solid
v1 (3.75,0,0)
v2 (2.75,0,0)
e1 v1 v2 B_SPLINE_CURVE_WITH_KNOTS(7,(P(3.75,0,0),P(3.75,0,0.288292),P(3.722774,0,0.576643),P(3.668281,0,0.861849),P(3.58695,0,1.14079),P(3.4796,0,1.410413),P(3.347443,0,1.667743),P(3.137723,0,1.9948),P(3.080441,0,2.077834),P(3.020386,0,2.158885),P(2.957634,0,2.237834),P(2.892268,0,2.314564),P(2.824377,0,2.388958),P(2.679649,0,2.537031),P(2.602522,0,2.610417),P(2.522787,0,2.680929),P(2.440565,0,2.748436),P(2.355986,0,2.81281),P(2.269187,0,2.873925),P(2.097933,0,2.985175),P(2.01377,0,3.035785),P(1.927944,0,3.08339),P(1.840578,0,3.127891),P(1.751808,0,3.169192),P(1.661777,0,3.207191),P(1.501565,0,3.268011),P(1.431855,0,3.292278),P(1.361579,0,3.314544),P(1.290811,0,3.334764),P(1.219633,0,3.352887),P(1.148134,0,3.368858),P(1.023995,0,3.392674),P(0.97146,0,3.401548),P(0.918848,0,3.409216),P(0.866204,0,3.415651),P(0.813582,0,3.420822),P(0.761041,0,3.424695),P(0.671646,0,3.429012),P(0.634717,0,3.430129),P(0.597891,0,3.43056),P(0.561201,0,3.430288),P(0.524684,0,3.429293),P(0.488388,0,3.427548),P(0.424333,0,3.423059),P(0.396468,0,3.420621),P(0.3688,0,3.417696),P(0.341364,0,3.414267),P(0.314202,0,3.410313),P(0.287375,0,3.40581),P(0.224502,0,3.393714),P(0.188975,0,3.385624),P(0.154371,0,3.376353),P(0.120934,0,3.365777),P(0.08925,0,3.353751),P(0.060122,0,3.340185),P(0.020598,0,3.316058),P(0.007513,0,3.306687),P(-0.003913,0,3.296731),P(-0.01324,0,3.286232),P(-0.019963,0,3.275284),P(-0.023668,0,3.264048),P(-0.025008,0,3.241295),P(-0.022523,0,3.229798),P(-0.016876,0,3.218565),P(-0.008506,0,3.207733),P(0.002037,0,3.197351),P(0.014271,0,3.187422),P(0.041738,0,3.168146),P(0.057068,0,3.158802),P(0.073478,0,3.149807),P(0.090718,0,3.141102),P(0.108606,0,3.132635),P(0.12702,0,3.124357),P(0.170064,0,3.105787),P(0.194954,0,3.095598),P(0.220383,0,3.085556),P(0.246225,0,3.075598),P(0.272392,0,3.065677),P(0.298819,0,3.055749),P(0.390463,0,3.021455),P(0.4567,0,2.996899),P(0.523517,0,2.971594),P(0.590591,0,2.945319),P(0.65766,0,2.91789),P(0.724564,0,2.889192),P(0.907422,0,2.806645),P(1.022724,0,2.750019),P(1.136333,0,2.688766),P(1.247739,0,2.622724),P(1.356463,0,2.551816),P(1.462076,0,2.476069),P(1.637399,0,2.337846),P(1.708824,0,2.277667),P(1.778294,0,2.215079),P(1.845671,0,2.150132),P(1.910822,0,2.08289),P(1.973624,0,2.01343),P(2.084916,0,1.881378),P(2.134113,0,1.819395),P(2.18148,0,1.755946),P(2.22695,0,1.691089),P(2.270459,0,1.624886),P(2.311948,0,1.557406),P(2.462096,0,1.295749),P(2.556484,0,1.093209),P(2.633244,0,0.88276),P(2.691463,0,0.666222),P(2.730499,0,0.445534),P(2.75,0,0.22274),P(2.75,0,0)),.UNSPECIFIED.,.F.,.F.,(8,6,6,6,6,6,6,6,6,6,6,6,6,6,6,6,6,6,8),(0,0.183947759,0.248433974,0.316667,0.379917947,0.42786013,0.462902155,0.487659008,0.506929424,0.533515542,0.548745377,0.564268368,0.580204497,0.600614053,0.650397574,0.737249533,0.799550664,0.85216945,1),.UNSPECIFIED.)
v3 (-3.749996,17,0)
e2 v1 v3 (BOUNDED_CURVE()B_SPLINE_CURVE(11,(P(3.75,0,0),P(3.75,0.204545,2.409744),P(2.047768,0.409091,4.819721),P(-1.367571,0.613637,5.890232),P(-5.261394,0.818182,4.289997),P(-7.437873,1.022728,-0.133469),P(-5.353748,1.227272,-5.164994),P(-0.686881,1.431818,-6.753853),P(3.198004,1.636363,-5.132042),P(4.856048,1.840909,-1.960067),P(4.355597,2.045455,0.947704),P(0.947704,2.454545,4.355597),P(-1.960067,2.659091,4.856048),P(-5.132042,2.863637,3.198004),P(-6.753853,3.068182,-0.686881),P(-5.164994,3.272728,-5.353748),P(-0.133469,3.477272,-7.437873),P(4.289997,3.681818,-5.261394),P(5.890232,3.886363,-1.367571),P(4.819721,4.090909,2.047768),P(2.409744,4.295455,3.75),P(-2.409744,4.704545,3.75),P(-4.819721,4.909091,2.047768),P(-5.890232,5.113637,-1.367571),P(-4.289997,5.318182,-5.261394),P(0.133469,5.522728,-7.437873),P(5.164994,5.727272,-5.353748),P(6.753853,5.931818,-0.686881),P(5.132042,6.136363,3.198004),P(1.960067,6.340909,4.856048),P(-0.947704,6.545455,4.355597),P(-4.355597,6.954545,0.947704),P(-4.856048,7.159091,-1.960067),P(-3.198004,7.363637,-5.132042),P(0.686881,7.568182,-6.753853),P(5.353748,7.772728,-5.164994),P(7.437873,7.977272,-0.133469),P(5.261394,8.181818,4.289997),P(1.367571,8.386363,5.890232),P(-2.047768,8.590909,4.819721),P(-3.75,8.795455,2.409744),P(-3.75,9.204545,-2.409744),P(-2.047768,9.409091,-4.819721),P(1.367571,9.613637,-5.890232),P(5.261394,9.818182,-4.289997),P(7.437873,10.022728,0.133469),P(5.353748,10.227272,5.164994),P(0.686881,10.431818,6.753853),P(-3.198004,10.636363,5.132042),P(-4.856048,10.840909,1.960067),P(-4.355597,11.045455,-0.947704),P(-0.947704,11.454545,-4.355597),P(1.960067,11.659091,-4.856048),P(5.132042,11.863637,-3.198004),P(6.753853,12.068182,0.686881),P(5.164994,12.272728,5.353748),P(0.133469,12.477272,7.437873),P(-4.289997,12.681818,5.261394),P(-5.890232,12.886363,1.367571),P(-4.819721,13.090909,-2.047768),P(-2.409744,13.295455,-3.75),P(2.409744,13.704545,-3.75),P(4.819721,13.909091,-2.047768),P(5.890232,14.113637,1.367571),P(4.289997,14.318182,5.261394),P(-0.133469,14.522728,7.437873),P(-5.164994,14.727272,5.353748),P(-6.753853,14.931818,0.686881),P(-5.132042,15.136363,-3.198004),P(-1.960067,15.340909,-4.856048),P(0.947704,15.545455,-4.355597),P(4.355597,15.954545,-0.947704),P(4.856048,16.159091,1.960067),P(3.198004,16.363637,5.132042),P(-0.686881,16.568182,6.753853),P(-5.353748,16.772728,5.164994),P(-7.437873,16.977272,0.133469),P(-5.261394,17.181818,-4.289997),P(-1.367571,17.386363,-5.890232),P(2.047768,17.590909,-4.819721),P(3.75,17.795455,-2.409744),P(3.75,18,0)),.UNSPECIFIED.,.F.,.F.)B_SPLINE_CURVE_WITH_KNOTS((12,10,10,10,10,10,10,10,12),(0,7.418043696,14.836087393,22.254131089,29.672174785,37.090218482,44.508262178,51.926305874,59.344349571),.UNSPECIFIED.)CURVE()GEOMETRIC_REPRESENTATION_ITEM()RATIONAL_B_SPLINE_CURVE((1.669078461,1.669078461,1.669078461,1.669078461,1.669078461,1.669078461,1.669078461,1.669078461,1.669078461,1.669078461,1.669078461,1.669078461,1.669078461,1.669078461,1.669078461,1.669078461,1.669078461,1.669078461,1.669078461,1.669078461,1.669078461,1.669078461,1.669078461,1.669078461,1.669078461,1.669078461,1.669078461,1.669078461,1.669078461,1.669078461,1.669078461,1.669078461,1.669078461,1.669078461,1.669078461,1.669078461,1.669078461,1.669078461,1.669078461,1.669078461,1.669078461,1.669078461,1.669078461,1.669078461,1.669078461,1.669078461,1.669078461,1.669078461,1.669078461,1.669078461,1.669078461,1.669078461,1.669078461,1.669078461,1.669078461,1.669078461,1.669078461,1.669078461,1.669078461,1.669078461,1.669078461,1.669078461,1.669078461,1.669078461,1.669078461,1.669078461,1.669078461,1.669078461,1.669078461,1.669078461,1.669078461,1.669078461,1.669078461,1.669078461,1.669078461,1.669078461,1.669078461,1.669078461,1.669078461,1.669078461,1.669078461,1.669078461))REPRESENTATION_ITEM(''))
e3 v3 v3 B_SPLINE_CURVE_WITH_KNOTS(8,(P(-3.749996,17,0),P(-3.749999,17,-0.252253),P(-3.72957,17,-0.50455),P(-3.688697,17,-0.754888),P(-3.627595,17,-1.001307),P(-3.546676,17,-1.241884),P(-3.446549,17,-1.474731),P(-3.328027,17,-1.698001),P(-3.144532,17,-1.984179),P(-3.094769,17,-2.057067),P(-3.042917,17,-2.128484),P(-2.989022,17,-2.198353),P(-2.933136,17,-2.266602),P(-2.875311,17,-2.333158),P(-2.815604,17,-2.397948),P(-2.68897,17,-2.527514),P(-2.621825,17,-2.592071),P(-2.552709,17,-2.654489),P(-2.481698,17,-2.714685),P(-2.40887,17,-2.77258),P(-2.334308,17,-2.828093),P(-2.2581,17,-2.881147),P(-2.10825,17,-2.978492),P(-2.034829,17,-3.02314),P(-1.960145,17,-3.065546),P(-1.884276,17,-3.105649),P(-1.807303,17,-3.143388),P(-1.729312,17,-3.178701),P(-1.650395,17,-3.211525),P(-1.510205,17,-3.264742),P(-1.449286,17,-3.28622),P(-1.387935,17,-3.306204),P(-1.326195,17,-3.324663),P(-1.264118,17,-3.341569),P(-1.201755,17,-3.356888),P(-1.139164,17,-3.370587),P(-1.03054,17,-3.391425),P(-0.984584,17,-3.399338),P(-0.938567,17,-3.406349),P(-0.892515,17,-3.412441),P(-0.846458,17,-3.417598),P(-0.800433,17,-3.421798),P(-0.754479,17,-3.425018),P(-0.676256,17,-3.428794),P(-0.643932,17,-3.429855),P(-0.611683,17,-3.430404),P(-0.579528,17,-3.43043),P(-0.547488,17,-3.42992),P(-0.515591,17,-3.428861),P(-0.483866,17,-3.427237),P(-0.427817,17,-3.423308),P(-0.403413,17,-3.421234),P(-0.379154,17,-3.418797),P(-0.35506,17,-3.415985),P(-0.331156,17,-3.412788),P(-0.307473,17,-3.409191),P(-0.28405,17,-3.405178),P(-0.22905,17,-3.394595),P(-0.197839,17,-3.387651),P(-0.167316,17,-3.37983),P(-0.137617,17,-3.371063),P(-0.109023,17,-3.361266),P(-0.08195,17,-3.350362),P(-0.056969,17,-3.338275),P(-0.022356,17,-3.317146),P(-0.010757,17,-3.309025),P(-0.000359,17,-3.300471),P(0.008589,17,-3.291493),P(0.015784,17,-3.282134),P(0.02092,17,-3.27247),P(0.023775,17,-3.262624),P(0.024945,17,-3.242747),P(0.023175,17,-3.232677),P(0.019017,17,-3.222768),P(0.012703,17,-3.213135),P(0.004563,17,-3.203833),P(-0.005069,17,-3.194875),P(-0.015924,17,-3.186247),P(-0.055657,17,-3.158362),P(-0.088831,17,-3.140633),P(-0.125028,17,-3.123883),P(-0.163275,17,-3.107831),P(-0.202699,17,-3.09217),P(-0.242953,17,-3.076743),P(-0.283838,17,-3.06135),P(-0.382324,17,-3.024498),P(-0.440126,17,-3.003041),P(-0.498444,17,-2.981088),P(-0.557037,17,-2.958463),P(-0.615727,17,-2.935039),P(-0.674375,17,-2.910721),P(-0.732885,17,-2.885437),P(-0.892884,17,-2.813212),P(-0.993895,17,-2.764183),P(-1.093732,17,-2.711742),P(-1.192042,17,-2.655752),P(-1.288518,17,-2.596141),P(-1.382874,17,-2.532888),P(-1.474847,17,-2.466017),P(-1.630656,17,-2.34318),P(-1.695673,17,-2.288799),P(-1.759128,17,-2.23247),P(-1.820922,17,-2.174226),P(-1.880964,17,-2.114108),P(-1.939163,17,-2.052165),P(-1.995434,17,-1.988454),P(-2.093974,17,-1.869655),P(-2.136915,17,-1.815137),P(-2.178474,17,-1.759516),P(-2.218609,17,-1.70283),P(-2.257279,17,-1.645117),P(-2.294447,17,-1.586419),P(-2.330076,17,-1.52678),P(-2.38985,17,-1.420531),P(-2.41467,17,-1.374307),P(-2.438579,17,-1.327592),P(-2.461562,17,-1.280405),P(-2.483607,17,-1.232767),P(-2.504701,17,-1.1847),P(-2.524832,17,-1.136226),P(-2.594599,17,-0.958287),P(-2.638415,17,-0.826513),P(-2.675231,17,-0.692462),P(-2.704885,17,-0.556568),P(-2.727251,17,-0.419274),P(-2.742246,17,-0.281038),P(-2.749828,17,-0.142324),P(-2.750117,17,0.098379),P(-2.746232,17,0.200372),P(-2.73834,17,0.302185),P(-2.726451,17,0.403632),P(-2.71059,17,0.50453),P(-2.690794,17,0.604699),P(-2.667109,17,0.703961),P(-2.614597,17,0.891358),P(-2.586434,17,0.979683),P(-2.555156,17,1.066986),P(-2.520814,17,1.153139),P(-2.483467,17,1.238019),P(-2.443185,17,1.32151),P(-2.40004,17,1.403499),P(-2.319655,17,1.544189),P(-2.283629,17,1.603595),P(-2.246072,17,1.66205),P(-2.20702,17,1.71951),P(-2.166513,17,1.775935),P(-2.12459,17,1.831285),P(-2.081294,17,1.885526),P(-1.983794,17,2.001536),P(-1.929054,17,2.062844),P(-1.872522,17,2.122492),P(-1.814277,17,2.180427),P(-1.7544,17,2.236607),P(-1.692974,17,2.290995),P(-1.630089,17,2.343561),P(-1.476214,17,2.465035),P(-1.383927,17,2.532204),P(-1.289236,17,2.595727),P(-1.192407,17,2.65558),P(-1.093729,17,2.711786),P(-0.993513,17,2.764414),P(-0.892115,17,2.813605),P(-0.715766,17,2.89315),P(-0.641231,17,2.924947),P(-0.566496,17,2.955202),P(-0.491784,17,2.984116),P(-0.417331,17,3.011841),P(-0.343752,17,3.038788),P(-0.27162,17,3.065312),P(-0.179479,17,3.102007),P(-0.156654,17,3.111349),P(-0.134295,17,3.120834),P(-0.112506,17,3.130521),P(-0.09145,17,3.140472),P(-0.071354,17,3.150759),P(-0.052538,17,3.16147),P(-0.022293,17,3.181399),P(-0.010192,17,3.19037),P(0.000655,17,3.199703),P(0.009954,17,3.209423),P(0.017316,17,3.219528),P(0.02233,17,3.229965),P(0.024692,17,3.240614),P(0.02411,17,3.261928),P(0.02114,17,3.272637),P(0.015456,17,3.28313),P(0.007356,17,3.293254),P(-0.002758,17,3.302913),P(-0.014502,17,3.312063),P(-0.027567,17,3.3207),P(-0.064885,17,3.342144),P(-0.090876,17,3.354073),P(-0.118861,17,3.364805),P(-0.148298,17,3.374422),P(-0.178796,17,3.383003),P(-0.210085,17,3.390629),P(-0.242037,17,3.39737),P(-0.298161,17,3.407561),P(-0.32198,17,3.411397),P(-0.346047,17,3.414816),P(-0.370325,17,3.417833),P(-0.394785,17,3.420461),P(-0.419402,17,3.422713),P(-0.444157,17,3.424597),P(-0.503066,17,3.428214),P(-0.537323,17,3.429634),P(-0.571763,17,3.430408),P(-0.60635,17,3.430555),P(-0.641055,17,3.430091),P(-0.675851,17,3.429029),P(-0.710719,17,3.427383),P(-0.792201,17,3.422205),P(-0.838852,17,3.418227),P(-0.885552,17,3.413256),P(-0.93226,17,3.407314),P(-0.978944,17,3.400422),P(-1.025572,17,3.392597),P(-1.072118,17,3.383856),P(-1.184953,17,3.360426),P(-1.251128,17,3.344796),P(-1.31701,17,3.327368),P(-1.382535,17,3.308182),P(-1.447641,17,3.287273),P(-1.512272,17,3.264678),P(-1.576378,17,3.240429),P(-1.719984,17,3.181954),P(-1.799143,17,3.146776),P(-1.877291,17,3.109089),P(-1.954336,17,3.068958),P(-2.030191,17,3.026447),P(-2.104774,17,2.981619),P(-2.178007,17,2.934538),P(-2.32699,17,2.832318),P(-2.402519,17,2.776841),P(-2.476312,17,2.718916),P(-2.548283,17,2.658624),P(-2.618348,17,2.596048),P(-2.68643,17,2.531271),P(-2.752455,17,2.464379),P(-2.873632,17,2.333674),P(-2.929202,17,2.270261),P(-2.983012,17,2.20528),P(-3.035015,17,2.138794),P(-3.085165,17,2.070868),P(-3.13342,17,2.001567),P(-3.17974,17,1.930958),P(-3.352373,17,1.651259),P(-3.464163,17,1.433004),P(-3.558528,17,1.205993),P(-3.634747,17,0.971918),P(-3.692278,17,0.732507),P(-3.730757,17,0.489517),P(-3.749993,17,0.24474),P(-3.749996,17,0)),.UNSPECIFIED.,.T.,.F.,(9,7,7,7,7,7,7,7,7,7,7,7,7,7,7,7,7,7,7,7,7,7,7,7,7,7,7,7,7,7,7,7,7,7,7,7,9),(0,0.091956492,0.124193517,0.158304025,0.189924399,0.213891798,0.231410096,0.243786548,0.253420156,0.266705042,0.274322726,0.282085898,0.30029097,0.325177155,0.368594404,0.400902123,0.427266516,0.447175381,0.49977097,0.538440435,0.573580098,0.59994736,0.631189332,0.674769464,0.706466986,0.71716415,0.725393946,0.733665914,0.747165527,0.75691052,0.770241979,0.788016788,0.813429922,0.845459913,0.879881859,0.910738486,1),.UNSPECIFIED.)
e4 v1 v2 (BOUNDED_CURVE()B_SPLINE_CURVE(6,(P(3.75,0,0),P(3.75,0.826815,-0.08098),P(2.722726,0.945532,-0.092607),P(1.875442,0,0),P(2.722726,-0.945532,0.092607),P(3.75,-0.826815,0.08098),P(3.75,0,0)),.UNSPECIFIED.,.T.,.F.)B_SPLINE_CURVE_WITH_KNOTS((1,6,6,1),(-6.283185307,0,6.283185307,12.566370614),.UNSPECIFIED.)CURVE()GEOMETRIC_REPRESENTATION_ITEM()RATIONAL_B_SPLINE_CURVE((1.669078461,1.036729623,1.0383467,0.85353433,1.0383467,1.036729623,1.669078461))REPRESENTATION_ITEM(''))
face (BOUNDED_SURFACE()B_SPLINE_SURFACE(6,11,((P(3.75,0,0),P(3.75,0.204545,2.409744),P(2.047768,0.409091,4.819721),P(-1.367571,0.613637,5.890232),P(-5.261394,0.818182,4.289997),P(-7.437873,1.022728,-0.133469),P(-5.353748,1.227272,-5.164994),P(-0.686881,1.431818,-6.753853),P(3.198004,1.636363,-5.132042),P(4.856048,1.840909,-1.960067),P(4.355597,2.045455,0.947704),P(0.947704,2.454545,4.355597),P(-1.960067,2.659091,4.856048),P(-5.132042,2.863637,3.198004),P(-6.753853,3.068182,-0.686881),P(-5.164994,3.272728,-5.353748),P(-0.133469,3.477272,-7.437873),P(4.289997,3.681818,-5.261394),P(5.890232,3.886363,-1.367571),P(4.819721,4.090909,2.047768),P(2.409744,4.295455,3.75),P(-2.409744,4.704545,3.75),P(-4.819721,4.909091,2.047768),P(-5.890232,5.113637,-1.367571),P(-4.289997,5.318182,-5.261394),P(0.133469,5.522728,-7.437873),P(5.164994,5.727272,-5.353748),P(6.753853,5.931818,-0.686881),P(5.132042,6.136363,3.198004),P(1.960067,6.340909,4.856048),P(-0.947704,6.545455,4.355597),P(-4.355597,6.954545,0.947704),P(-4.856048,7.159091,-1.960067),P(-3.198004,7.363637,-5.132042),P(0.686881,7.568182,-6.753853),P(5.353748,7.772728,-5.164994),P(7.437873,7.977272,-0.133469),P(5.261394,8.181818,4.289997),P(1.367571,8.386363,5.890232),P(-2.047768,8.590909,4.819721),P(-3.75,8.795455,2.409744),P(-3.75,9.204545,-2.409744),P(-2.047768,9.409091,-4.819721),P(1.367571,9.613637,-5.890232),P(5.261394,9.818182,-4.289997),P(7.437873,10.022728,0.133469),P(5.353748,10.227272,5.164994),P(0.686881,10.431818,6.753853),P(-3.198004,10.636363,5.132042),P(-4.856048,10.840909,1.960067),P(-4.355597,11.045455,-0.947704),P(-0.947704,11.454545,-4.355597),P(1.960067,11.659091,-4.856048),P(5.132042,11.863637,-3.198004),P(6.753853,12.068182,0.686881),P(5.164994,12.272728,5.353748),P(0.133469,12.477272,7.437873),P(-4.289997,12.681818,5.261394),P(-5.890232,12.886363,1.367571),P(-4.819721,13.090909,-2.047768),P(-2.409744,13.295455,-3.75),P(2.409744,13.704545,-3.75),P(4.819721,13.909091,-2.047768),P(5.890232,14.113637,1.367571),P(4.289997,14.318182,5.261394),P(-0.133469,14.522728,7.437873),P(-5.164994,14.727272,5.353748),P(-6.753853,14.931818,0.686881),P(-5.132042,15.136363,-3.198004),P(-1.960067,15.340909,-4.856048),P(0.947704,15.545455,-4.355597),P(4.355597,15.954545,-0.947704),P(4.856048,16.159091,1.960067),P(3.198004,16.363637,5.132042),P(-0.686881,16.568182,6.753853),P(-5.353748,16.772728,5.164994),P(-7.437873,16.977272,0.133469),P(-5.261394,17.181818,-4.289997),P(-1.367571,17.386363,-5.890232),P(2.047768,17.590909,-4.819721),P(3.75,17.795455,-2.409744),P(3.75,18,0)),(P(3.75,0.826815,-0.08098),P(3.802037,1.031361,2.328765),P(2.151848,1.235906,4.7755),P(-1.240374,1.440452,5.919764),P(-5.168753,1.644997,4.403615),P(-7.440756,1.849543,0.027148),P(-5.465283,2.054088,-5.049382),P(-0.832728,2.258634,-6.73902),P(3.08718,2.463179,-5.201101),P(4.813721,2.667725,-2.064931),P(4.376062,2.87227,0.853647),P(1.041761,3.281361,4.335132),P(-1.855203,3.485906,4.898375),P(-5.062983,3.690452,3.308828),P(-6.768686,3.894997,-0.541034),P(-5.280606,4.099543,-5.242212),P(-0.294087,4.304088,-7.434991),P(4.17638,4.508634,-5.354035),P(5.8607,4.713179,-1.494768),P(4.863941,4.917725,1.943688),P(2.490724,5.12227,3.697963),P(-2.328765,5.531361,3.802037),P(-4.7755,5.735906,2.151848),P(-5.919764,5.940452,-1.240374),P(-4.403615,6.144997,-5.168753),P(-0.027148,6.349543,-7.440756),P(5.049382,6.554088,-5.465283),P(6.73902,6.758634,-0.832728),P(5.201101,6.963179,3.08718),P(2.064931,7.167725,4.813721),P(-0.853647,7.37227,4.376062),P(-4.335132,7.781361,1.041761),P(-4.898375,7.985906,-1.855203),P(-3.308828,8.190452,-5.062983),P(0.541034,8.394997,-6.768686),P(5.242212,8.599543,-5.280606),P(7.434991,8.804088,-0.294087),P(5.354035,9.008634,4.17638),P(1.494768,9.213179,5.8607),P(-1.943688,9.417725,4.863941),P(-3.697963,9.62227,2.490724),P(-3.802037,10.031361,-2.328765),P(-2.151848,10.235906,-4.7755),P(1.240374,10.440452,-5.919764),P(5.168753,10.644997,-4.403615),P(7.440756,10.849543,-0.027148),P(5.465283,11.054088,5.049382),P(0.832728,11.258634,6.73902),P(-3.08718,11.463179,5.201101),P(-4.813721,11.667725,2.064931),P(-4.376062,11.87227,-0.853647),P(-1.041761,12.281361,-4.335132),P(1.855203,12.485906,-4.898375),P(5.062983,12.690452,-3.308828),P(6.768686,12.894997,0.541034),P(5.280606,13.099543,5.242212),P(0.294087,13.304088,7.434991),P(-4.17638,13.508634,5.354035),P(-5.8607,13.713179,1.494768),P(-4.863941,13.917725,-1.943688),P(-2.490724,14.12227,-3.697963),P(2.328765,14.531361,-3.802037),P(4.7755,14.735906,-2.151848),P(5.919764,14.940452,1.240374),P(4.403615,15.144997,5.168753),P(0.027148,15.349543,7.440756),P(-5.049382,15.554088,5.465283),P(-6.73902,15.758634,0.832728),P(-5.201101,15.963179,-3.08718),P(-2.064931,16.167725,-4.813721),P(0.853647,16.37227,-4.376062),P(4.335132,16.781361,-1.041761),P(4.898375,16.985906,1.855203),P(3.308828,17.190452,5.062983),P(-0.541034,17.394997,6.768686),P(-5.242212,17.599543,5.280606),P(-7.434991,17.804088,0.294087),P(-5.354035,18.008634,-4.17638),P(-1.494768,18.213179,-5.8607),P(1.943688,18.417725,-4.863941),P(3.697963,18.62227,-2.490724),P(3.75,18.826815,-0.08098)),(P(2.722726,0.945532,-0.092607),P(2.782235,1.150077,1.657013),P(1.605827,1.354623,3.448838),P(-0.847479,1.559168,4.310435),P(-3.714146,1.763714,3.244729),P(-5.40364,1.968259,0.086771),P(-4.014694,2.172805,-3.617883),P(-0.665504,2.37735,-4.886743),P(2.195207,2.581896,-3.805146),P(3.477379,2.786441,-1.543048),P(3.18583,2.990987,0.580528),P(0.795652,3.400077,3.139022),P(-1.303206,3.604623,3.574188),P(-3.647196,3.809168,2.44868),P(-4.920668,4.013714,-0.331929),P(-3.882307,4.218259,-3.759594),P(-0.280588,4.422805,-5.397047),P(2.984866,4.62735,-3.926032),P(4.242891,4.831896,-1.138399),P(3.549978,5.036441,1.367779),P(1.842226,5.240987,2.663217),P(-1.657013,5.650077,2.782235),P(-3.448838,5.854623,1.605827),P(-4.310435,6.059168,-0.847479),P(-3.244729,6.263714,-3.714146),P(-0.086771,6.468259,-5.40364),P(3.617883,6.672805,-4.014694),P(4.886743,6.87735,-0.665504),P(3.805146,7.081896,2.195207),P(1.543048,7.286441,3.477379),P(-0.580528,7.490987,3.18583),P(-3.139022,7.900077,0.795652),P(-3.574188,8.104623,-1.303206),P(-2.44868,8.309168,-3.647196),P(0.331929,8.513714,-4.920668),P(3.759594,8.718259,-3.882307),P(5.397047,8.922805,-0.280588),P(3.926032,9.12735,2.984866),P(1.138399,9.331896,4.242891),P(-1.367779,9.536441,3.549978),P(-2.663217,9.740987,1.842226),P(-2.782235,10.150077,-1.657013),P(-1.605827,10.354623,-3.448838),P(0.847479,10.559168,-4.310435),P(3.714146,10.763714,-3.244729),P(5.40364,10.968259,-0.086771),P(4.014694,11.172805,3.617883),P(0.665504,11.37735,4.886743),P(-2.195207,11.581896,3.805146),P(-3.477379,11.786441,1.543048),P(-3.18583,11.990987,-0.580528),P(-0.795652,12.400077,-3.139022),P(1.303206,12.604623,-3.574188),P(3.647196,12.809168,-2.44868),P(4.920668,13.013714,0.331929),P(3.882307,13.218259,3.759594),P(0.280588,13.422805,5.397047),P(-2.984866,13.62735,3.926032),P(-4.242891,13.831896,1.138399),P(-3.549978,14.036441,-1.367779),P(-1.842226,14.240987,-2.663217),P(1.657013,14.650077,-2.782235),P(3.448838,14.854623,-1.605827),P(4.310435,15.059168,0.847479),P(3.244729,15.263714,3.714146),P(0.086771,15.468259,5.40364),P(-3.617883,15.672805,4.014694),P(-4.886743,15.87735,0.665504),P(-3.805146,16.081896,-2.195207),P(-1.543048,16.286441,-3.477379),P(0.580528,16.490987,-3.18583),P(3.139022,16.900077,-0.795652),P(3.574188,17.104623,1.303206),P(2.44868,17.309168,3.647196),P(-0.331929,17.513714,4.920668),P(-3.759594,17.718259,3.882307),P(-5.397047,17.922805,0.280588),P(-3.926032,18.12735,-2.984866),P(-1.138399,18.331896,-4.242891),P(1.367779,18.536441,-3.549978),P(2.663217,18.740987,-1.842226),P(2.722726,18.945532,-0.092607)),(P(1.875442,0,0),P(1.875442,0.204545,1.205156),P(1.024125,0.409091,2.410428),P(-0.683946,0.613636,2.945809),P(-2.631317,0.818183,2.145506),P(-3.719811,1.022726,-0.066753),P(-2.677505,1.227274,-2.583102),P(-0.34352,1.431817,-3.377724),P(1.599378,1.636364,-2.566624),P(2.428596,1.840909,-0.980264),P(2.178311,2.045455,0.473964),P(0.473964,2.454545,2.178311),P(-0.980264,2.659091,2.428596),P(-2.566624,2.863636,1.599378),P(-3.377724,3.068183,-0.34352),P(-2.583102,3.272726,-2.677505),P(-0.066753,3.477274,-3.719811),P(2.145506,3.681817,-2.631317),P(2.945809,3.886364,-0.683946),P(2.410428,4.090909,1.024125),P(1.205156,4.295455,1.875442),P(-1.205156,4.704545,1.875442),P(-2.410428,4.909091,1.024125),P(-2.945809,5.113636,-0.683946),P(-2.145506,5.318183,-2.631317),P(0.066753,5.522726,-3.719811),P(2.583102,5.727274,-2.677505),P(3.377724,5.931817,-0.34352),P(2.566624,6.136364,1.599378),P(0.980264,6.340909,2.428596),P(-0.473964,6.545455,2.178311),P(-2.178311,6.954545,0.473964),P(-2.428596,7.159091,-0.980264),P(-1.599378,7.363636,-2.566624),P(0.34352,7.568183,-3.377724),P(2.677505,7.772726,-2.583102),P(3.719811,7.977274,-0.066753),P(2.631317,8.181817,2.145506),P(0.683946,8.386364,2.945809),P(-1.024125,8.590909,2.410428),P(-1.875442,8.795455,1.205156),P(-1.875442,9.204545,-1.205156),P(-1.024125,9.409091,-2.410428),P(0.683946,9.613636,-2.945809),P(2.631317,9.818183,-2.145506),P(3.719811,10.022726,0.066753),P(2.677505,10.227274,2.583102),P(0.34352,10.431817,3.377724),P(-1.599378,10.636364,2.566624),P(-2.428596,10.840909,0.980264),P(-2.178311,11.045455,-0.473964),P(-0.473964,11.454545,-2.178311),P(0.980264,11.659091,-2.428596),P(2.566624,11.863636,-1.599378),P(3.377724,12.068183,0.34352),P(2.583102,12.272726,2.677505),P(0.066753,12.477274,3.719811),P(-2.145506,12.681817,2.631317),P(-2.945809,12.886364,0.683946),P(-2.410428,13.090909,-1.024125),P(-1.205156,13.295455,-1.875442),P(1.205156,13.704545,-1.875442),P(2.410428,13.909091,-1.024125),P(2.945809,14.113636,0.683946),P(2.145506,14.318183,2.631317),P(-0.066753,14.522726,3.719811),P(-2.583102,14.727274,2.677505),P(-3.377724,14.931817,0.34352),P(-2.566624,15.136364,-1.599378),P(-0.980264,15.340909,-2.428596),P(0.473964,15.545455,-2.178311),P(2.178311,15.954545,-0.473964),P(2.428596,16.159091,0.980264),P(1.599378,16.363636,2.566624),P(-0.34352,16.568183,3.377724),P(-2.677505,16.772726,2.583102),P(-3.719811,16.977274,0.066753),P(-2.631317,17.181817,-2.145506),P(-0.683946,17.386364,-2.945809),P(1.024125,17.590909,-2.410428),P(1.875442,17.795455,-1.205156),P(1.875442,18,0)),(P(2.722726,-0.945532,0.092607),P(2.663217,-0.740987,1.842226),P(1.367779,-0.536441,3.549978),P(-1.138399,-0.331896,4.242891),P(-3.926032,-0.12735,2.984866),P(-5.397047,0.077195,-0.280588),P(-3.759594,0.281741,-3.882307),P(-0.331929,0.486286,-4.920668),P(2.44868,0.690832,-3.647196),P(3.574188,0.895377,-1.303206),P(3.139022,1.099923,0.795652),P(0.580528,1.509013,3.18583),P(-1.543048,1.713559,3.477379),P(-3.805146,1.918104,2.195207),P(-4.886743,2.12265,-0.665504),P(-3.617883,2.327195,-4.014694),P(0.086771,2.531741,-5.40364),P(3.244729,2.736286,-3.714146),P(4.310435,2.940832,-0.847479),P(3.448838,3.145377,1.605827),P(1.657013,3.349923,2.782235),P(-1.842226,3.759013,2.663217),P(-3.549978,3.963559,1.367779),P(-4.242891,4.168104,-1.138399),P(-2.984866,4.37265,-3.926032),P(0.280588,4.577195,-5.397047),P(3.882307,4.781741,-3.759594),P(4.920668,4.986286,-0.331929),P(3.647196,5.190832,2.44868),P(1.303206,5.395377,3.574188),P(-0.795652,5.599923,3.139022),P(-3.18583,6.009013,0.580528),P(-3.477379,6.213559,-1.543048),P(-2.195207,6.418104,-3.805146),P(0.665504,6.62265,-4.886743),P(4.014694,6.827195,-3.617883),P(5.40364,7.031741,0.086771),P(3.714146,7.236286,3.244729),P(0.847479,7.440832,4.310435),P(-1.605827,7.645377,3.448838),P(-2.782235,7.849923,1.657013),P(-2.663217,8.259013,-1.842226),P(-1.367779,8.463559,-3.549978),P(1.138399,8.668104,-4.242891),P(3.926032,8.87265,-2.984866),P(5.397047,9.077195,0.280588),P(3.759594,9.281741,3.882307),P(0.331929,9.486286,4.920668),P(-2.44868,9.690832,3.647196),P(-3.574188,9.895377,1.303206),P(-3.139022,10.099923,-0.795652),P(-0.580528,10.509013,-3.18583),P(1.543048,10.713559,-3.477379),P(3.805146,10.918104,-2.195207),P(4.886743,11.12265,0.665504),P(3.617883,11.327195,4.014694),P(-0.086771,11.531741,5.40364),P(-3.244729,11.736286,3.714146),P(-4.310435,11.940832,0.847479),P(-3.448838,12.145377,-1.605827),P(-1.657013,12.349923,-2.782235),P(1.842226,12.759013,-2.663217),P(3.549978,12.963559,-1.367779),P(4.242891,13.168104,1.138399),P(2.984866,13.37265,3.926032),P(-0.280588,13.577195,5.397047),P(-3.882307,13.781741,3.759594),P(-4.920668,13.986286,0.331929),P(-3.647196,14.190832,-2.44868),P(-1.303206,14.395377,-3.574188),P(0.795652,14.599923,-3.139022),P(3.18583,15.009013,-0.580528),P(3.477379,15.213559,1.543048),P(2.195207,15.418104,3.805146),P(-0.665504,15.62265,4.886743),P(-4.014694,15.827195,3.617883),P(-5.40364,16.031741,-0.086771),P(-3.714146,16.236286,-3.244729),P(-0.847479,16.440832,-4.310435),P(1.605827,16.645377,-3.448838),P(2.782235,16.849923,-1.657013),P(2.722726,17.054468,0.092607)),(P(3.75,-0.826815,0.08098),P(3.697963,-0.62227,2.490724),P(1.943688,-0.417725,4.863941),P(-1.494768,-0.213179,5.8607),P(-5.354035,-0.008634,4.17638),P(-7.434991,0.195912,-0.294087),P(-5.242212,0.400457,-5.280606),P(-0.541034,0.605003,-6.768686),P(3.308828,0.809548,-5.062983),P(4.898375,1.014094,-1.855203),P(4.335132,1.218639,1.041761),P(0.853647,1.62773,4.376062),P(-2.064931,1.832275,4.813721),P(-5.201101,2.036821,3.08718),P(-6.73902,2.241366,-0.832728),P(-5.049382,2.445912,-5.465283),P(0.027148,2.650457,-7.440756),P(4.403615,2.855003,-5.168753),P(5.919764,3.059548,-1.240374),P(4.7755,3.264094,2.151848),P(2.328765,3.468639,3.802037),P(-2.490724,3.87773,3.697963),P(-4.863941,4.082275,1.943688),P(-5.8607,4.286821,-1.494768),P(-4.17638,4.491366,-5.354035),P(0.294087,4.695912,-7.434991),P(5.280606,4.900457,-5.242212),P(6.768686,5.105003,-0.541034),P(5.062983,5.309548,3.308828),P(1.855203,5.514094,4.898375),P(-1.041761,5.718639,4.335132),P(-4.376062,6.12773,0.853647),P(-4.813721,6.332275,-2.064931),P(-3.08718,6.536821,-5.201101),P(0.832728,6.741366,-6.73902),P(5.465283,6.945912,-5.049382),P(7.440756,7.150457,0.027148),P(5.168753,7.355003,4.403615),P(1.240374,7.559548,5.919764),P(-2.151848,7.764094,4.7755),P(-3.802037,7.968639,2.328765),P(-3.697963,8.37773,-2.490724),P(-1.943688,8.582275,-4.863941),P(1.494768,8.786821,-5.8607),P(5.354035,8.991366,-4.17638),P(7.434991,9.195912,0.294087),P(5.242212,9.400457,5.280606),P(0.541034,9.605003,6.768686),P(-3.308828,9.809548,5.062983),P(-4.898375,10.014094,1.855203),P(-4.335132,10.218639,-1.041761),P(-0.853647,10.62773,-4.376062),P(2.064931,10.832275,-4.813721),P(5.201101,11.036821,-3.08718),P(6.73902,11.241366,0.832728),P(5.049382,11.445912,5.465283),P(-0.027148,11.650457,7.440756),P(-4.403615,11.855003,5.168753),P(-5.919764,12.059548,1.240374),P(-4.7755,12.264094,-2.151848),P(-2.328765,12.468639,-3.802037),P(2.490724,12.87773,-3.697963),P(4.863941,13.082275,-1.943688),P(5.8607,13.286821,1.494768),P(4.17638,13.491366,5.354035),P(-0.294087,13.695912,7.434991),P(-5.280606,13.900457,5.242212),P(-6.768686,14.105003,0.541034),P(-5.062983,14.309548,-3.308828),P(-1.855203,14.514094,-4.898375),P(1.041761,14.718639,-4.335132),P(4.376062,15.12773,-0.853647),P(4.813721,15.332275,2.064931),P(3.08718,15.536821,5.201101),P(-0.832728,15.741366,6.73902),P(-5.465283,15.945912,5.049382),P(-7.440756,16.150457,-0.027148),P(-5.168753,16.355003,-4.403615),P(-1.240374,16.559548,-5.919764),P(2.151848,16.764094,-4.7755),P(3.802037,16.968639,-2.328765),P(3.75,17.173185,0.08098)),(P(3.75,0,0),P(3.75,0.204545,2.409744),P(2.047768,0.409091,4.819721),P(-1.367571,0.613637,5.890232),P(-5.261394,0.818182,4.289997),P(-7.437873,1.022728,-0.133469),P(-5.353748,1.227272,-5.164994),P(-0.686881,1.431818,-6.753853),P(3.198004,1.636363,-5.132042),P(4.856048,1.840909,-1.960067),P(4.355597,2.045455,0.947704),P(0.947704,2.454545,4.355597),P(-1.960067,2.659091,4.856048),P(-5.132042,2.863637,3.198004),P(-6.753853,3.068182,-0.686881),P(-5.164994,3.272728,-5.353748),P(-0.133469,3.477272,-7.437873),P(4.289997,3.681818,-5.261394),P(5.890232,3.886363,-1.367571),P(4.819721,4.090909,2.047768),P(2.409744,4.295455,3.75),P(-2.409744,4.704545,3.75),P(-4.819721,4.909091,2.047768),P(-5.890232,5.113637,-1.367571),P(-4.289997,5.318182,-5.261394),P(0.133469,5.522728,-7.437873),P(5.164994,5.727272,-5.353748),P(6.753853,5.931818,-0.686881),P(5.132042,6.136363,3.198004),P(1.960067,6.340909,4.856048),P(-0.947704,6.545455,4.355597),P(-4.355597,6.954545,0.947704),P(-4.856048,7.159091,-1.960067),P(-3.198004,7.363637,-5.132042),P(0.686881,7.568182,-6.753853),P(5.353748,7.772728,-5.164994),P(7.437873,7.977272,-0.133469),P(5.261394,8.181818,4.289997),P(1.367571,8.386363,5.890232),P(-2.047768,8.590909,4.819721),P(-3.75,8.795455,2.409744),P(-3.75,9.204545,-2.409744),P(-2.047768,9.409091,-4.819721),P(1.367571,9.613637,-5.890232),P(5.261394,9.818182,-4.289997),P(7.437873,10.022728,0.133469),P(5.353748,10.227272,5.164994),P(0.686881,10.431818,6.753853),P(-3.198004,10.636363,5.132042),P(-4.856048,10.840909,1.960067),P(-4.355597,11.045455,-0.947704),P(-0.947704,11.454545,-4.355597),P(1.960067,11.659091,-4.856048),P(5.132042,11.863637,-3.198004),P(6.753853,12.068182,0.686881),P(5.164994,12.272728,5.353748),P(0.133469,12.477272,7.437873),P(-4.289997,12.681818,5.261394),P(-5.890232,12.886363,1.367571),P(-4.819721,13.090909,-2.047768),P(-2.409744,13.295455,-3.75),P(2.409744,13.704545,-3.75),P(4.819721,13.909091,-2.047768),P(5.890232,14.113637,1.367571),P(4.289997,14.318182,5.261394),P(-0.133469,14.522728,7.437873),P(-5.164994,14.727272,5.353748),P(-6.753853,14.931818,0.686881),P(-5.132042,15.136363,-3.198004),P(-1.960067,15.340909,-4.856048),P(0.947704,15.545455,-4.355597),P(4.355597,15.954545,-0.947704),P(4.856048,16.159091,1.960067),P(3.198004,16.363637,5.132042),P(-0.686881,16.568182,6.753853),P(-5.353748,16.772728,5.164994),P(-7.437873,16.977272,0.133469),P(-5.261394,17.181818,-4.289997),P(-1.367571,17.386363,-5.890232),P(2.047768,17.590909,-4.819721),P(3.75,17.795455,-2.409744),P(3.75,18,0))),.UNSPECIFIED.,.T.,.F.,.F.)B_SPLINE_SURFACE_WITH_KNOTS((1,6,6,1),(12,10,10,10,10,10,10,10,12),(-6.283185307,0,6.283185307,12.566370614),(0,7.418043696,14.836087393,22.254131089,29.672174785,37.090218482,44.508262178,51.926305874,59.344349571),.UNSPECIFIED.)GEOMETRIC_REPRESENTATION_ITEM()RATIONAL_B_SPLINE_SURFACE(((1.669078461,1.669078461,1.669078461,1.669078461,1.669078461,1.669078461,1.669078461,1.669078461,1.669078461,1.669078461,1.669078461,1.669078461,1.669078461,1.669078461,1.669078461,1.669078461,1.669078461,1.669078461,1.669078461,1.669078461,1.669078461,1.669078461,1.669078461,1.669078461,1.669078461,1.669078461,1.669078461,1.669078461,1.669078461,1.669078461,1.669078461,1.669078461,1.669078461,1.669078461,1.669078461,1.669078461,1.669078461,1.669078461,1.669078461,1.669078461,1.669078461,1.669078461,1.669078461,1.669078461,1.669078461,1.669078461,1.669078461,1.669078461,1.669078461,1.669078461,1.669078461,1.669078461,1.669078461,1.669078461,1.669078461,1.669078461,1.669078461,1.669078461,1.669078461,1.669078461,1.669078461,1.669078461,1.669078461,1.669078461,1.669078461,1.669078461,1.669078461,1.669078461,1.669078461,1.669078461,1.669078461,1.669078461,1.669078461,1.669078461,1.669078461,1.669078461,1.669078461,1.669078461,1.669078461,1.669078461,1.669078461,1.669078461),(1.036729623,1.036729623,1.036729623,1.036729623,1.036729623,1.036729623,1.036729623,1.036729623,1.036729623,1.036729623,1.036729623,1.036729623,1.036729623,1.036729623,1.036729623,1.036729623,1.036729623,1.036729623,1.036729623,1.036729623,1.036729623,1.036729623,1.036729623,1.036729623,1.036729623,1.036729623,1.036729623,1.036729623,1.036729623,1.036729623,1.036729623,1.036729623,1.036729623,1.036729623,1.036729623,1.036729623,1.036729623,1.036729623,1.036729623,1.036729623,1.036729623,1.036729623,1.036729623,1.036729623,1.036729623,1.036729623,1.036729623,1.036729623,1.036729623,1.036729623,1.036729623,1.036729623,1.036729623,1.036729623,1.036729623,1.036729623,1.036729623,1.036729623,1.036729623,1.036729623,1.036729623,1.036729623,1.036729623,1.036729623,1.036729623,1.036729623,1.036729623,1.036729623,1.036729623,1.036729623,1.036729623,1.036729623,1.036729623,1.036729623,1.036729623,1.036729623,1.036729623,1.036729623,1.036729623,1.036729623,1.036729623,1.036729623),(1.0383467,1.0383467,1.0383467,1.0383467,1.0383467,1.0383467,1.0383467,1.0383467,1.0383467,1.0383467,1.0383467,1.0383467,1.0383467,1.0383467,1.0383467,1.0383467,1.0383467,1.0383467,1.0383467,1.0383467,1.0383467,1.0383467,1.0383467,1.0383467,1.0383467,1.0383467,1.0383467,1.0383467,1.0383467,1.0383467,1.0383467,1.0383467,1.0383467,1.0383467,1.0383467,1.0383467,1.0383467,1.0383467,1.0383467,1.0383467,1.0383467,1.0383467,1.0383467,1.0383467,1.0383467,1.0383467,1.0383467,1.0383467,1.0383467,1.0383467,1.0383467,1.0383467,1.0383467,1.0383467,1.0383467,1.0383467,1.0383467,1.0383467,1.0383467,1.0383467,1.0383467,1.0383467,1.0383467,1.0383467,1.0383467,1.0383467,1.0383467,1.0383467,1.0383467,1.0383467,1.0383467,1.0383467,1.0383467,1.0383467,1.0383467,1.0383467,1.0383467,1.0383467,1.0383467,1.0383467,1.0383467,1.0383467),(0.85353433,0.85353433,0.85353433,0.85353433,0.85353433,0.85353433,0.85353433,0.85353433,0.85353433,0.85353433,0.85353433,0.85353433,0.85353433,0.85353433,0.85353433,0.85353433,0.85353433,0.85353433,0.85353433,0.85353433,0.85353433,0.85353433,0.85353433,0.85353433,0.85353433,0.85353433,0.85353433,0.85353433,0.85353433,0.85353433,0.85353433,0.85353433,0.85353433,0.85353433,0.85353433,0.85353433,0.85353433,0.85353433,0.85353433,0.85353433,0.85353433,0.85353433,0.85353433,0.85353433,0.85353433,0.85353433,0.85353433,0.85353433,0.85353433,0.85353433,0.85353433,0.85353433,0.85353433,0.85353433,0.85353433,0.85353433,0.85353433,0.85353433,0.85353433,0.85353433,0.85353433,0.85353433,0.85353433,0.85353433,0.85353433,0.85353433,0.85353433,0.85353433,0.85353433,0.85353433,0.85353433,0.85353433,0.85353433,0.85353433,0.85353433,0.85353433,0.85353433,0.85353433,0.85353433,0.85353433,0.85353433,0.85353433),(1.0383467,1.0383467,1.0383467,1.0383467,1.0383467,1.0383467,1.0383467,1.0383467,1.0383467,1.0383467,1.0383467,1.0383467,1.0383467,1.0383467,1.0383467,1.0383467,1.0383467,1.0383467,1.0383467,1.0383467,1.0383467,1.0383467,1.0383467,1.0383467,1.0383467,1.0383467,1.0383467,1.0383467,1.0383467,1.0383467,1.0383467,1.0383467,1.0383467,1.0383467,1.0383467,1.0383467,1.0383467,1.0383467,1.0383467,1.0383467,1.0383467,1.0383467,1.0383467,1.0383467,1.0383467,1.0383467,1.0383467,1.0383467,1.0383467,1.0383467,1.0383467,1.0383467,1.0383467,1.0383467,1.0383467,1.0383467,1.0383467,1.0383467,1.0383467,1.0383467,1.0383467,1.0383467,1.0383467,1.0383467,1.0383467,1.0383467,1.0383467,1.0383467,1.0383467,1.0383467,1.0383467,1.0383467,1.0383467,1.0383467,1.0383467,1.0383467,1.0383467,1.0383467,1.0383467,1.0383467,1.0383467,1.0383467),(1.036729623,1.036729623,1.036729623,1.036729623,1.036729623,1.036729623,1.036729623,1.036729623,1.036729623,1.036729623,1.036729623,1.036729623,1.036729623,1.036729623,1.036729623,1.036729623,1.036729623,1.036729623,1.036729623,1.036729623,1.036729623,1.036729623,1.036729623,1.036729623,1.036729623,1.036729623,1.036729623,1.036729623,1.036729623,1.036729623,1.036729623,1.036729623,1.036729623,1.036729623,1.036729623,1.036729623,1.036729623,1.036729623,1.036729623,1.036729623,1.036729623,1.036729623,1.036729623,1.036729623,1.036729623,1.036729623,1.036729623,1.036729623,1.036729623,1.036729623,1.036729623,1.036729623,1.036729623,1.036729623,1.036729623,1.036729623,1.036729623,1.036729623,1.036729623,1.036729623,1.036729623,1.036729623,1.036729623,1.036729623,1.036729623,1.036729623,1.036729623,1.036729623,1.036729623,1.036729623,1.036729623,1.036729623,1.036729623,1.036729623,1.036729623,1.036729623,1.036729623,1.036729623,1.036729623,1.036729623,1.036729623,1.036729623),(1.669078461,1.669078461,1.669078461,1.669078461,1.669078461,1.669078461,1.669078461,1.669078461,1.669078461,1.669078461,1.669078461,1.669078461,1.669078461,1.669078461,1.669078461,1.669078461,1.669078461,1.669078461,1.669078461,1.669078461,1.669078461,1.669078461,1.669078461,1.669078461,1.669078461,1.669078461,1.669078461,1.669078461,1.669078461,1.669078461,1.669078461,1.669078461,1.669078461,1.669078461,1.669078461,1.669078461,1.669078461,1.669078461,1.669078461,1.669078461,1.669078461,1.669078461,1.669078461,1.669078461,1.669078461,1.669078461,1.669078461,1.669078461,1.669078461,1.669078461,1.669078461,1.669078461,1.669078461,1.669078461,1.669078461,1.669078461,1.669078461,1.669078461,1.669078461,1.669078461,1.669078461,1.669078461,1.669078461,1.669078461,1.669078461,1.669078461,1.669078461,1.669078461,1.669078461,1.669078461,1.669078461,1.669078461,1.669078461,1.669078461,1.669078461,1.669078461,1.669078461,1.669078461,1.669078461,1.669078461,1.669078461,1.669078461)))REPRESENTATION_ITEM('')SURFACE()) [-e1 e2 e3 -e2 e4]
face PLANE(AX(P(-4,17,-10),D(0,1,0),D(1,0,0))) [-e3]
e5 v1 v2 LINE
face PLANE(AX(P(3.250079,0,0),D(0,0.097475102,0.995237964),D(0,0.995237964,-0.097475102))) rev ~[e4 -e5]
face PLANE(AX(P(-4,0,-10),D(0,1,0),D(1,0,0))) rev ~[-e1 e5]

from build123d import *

# Parameters (mm, degrees)
SWEEP1_PITCH        = 2
SWEEP1_HEIGHT       = 18
SWEEP1_RADIUS       = 3.25
SWEEP1_START_ANGLE  = 90
SKETCH2_R           = 0.5
EXTRUDE1_DEPTH      = 10
EXTRUDE1_DEPTH_BACK = 10
SKETCH3_W           = 8
SKETCH3_H           = 3


with BuildPart() as part:
    # Sweep1: sweep along a helix
    with BuildLine() as sweep1_path:
        add(Helix(SWEEP1_PITCH, SWEEP1_HEIGHT, SWEEP1_RADIUS, center=(0, 0, 0), direction=(0, 1, 0), lefthand=True, mode=Mode.PRIVATE).rotate(Axis((0, 0, 0), (0, 1, 0)), SWEEP1_START_ANGLE))
    # Sketch2 → Sweep1 (sweep)
    with BuildSketch(Plane(origin=(3.25, 0, 0), x_dir=(1, 0, 0), z_dir=(4.084159025639519e-15, 0.09747510244715202, 0.9952379637066289))):
        Circle(SKETCH2_R)
    sweep(path=sweep1_path.line, is_frenet=True)

    # Sketch3 → Extrude1 (cut, two sides: drawn at the far end of the back side and taken through both)
    with BuildSketch(Plane.XY.offset(-EXTRUDE1_DEPTH_BACK)):
        with Locations((0, -1.5)):
            Rectangle(SKETCH3_W, SKETCH3_H)
        with Locations((0, 18.5)):
            Rectangle(SKETCH3_W, SKETCH3_H)
    extrude(amount=EXTRUDE1_DEPTH + EXTRUDE1_DEPTH_BACK, mode=Mode.SUBTRACT)


solid = part.part
